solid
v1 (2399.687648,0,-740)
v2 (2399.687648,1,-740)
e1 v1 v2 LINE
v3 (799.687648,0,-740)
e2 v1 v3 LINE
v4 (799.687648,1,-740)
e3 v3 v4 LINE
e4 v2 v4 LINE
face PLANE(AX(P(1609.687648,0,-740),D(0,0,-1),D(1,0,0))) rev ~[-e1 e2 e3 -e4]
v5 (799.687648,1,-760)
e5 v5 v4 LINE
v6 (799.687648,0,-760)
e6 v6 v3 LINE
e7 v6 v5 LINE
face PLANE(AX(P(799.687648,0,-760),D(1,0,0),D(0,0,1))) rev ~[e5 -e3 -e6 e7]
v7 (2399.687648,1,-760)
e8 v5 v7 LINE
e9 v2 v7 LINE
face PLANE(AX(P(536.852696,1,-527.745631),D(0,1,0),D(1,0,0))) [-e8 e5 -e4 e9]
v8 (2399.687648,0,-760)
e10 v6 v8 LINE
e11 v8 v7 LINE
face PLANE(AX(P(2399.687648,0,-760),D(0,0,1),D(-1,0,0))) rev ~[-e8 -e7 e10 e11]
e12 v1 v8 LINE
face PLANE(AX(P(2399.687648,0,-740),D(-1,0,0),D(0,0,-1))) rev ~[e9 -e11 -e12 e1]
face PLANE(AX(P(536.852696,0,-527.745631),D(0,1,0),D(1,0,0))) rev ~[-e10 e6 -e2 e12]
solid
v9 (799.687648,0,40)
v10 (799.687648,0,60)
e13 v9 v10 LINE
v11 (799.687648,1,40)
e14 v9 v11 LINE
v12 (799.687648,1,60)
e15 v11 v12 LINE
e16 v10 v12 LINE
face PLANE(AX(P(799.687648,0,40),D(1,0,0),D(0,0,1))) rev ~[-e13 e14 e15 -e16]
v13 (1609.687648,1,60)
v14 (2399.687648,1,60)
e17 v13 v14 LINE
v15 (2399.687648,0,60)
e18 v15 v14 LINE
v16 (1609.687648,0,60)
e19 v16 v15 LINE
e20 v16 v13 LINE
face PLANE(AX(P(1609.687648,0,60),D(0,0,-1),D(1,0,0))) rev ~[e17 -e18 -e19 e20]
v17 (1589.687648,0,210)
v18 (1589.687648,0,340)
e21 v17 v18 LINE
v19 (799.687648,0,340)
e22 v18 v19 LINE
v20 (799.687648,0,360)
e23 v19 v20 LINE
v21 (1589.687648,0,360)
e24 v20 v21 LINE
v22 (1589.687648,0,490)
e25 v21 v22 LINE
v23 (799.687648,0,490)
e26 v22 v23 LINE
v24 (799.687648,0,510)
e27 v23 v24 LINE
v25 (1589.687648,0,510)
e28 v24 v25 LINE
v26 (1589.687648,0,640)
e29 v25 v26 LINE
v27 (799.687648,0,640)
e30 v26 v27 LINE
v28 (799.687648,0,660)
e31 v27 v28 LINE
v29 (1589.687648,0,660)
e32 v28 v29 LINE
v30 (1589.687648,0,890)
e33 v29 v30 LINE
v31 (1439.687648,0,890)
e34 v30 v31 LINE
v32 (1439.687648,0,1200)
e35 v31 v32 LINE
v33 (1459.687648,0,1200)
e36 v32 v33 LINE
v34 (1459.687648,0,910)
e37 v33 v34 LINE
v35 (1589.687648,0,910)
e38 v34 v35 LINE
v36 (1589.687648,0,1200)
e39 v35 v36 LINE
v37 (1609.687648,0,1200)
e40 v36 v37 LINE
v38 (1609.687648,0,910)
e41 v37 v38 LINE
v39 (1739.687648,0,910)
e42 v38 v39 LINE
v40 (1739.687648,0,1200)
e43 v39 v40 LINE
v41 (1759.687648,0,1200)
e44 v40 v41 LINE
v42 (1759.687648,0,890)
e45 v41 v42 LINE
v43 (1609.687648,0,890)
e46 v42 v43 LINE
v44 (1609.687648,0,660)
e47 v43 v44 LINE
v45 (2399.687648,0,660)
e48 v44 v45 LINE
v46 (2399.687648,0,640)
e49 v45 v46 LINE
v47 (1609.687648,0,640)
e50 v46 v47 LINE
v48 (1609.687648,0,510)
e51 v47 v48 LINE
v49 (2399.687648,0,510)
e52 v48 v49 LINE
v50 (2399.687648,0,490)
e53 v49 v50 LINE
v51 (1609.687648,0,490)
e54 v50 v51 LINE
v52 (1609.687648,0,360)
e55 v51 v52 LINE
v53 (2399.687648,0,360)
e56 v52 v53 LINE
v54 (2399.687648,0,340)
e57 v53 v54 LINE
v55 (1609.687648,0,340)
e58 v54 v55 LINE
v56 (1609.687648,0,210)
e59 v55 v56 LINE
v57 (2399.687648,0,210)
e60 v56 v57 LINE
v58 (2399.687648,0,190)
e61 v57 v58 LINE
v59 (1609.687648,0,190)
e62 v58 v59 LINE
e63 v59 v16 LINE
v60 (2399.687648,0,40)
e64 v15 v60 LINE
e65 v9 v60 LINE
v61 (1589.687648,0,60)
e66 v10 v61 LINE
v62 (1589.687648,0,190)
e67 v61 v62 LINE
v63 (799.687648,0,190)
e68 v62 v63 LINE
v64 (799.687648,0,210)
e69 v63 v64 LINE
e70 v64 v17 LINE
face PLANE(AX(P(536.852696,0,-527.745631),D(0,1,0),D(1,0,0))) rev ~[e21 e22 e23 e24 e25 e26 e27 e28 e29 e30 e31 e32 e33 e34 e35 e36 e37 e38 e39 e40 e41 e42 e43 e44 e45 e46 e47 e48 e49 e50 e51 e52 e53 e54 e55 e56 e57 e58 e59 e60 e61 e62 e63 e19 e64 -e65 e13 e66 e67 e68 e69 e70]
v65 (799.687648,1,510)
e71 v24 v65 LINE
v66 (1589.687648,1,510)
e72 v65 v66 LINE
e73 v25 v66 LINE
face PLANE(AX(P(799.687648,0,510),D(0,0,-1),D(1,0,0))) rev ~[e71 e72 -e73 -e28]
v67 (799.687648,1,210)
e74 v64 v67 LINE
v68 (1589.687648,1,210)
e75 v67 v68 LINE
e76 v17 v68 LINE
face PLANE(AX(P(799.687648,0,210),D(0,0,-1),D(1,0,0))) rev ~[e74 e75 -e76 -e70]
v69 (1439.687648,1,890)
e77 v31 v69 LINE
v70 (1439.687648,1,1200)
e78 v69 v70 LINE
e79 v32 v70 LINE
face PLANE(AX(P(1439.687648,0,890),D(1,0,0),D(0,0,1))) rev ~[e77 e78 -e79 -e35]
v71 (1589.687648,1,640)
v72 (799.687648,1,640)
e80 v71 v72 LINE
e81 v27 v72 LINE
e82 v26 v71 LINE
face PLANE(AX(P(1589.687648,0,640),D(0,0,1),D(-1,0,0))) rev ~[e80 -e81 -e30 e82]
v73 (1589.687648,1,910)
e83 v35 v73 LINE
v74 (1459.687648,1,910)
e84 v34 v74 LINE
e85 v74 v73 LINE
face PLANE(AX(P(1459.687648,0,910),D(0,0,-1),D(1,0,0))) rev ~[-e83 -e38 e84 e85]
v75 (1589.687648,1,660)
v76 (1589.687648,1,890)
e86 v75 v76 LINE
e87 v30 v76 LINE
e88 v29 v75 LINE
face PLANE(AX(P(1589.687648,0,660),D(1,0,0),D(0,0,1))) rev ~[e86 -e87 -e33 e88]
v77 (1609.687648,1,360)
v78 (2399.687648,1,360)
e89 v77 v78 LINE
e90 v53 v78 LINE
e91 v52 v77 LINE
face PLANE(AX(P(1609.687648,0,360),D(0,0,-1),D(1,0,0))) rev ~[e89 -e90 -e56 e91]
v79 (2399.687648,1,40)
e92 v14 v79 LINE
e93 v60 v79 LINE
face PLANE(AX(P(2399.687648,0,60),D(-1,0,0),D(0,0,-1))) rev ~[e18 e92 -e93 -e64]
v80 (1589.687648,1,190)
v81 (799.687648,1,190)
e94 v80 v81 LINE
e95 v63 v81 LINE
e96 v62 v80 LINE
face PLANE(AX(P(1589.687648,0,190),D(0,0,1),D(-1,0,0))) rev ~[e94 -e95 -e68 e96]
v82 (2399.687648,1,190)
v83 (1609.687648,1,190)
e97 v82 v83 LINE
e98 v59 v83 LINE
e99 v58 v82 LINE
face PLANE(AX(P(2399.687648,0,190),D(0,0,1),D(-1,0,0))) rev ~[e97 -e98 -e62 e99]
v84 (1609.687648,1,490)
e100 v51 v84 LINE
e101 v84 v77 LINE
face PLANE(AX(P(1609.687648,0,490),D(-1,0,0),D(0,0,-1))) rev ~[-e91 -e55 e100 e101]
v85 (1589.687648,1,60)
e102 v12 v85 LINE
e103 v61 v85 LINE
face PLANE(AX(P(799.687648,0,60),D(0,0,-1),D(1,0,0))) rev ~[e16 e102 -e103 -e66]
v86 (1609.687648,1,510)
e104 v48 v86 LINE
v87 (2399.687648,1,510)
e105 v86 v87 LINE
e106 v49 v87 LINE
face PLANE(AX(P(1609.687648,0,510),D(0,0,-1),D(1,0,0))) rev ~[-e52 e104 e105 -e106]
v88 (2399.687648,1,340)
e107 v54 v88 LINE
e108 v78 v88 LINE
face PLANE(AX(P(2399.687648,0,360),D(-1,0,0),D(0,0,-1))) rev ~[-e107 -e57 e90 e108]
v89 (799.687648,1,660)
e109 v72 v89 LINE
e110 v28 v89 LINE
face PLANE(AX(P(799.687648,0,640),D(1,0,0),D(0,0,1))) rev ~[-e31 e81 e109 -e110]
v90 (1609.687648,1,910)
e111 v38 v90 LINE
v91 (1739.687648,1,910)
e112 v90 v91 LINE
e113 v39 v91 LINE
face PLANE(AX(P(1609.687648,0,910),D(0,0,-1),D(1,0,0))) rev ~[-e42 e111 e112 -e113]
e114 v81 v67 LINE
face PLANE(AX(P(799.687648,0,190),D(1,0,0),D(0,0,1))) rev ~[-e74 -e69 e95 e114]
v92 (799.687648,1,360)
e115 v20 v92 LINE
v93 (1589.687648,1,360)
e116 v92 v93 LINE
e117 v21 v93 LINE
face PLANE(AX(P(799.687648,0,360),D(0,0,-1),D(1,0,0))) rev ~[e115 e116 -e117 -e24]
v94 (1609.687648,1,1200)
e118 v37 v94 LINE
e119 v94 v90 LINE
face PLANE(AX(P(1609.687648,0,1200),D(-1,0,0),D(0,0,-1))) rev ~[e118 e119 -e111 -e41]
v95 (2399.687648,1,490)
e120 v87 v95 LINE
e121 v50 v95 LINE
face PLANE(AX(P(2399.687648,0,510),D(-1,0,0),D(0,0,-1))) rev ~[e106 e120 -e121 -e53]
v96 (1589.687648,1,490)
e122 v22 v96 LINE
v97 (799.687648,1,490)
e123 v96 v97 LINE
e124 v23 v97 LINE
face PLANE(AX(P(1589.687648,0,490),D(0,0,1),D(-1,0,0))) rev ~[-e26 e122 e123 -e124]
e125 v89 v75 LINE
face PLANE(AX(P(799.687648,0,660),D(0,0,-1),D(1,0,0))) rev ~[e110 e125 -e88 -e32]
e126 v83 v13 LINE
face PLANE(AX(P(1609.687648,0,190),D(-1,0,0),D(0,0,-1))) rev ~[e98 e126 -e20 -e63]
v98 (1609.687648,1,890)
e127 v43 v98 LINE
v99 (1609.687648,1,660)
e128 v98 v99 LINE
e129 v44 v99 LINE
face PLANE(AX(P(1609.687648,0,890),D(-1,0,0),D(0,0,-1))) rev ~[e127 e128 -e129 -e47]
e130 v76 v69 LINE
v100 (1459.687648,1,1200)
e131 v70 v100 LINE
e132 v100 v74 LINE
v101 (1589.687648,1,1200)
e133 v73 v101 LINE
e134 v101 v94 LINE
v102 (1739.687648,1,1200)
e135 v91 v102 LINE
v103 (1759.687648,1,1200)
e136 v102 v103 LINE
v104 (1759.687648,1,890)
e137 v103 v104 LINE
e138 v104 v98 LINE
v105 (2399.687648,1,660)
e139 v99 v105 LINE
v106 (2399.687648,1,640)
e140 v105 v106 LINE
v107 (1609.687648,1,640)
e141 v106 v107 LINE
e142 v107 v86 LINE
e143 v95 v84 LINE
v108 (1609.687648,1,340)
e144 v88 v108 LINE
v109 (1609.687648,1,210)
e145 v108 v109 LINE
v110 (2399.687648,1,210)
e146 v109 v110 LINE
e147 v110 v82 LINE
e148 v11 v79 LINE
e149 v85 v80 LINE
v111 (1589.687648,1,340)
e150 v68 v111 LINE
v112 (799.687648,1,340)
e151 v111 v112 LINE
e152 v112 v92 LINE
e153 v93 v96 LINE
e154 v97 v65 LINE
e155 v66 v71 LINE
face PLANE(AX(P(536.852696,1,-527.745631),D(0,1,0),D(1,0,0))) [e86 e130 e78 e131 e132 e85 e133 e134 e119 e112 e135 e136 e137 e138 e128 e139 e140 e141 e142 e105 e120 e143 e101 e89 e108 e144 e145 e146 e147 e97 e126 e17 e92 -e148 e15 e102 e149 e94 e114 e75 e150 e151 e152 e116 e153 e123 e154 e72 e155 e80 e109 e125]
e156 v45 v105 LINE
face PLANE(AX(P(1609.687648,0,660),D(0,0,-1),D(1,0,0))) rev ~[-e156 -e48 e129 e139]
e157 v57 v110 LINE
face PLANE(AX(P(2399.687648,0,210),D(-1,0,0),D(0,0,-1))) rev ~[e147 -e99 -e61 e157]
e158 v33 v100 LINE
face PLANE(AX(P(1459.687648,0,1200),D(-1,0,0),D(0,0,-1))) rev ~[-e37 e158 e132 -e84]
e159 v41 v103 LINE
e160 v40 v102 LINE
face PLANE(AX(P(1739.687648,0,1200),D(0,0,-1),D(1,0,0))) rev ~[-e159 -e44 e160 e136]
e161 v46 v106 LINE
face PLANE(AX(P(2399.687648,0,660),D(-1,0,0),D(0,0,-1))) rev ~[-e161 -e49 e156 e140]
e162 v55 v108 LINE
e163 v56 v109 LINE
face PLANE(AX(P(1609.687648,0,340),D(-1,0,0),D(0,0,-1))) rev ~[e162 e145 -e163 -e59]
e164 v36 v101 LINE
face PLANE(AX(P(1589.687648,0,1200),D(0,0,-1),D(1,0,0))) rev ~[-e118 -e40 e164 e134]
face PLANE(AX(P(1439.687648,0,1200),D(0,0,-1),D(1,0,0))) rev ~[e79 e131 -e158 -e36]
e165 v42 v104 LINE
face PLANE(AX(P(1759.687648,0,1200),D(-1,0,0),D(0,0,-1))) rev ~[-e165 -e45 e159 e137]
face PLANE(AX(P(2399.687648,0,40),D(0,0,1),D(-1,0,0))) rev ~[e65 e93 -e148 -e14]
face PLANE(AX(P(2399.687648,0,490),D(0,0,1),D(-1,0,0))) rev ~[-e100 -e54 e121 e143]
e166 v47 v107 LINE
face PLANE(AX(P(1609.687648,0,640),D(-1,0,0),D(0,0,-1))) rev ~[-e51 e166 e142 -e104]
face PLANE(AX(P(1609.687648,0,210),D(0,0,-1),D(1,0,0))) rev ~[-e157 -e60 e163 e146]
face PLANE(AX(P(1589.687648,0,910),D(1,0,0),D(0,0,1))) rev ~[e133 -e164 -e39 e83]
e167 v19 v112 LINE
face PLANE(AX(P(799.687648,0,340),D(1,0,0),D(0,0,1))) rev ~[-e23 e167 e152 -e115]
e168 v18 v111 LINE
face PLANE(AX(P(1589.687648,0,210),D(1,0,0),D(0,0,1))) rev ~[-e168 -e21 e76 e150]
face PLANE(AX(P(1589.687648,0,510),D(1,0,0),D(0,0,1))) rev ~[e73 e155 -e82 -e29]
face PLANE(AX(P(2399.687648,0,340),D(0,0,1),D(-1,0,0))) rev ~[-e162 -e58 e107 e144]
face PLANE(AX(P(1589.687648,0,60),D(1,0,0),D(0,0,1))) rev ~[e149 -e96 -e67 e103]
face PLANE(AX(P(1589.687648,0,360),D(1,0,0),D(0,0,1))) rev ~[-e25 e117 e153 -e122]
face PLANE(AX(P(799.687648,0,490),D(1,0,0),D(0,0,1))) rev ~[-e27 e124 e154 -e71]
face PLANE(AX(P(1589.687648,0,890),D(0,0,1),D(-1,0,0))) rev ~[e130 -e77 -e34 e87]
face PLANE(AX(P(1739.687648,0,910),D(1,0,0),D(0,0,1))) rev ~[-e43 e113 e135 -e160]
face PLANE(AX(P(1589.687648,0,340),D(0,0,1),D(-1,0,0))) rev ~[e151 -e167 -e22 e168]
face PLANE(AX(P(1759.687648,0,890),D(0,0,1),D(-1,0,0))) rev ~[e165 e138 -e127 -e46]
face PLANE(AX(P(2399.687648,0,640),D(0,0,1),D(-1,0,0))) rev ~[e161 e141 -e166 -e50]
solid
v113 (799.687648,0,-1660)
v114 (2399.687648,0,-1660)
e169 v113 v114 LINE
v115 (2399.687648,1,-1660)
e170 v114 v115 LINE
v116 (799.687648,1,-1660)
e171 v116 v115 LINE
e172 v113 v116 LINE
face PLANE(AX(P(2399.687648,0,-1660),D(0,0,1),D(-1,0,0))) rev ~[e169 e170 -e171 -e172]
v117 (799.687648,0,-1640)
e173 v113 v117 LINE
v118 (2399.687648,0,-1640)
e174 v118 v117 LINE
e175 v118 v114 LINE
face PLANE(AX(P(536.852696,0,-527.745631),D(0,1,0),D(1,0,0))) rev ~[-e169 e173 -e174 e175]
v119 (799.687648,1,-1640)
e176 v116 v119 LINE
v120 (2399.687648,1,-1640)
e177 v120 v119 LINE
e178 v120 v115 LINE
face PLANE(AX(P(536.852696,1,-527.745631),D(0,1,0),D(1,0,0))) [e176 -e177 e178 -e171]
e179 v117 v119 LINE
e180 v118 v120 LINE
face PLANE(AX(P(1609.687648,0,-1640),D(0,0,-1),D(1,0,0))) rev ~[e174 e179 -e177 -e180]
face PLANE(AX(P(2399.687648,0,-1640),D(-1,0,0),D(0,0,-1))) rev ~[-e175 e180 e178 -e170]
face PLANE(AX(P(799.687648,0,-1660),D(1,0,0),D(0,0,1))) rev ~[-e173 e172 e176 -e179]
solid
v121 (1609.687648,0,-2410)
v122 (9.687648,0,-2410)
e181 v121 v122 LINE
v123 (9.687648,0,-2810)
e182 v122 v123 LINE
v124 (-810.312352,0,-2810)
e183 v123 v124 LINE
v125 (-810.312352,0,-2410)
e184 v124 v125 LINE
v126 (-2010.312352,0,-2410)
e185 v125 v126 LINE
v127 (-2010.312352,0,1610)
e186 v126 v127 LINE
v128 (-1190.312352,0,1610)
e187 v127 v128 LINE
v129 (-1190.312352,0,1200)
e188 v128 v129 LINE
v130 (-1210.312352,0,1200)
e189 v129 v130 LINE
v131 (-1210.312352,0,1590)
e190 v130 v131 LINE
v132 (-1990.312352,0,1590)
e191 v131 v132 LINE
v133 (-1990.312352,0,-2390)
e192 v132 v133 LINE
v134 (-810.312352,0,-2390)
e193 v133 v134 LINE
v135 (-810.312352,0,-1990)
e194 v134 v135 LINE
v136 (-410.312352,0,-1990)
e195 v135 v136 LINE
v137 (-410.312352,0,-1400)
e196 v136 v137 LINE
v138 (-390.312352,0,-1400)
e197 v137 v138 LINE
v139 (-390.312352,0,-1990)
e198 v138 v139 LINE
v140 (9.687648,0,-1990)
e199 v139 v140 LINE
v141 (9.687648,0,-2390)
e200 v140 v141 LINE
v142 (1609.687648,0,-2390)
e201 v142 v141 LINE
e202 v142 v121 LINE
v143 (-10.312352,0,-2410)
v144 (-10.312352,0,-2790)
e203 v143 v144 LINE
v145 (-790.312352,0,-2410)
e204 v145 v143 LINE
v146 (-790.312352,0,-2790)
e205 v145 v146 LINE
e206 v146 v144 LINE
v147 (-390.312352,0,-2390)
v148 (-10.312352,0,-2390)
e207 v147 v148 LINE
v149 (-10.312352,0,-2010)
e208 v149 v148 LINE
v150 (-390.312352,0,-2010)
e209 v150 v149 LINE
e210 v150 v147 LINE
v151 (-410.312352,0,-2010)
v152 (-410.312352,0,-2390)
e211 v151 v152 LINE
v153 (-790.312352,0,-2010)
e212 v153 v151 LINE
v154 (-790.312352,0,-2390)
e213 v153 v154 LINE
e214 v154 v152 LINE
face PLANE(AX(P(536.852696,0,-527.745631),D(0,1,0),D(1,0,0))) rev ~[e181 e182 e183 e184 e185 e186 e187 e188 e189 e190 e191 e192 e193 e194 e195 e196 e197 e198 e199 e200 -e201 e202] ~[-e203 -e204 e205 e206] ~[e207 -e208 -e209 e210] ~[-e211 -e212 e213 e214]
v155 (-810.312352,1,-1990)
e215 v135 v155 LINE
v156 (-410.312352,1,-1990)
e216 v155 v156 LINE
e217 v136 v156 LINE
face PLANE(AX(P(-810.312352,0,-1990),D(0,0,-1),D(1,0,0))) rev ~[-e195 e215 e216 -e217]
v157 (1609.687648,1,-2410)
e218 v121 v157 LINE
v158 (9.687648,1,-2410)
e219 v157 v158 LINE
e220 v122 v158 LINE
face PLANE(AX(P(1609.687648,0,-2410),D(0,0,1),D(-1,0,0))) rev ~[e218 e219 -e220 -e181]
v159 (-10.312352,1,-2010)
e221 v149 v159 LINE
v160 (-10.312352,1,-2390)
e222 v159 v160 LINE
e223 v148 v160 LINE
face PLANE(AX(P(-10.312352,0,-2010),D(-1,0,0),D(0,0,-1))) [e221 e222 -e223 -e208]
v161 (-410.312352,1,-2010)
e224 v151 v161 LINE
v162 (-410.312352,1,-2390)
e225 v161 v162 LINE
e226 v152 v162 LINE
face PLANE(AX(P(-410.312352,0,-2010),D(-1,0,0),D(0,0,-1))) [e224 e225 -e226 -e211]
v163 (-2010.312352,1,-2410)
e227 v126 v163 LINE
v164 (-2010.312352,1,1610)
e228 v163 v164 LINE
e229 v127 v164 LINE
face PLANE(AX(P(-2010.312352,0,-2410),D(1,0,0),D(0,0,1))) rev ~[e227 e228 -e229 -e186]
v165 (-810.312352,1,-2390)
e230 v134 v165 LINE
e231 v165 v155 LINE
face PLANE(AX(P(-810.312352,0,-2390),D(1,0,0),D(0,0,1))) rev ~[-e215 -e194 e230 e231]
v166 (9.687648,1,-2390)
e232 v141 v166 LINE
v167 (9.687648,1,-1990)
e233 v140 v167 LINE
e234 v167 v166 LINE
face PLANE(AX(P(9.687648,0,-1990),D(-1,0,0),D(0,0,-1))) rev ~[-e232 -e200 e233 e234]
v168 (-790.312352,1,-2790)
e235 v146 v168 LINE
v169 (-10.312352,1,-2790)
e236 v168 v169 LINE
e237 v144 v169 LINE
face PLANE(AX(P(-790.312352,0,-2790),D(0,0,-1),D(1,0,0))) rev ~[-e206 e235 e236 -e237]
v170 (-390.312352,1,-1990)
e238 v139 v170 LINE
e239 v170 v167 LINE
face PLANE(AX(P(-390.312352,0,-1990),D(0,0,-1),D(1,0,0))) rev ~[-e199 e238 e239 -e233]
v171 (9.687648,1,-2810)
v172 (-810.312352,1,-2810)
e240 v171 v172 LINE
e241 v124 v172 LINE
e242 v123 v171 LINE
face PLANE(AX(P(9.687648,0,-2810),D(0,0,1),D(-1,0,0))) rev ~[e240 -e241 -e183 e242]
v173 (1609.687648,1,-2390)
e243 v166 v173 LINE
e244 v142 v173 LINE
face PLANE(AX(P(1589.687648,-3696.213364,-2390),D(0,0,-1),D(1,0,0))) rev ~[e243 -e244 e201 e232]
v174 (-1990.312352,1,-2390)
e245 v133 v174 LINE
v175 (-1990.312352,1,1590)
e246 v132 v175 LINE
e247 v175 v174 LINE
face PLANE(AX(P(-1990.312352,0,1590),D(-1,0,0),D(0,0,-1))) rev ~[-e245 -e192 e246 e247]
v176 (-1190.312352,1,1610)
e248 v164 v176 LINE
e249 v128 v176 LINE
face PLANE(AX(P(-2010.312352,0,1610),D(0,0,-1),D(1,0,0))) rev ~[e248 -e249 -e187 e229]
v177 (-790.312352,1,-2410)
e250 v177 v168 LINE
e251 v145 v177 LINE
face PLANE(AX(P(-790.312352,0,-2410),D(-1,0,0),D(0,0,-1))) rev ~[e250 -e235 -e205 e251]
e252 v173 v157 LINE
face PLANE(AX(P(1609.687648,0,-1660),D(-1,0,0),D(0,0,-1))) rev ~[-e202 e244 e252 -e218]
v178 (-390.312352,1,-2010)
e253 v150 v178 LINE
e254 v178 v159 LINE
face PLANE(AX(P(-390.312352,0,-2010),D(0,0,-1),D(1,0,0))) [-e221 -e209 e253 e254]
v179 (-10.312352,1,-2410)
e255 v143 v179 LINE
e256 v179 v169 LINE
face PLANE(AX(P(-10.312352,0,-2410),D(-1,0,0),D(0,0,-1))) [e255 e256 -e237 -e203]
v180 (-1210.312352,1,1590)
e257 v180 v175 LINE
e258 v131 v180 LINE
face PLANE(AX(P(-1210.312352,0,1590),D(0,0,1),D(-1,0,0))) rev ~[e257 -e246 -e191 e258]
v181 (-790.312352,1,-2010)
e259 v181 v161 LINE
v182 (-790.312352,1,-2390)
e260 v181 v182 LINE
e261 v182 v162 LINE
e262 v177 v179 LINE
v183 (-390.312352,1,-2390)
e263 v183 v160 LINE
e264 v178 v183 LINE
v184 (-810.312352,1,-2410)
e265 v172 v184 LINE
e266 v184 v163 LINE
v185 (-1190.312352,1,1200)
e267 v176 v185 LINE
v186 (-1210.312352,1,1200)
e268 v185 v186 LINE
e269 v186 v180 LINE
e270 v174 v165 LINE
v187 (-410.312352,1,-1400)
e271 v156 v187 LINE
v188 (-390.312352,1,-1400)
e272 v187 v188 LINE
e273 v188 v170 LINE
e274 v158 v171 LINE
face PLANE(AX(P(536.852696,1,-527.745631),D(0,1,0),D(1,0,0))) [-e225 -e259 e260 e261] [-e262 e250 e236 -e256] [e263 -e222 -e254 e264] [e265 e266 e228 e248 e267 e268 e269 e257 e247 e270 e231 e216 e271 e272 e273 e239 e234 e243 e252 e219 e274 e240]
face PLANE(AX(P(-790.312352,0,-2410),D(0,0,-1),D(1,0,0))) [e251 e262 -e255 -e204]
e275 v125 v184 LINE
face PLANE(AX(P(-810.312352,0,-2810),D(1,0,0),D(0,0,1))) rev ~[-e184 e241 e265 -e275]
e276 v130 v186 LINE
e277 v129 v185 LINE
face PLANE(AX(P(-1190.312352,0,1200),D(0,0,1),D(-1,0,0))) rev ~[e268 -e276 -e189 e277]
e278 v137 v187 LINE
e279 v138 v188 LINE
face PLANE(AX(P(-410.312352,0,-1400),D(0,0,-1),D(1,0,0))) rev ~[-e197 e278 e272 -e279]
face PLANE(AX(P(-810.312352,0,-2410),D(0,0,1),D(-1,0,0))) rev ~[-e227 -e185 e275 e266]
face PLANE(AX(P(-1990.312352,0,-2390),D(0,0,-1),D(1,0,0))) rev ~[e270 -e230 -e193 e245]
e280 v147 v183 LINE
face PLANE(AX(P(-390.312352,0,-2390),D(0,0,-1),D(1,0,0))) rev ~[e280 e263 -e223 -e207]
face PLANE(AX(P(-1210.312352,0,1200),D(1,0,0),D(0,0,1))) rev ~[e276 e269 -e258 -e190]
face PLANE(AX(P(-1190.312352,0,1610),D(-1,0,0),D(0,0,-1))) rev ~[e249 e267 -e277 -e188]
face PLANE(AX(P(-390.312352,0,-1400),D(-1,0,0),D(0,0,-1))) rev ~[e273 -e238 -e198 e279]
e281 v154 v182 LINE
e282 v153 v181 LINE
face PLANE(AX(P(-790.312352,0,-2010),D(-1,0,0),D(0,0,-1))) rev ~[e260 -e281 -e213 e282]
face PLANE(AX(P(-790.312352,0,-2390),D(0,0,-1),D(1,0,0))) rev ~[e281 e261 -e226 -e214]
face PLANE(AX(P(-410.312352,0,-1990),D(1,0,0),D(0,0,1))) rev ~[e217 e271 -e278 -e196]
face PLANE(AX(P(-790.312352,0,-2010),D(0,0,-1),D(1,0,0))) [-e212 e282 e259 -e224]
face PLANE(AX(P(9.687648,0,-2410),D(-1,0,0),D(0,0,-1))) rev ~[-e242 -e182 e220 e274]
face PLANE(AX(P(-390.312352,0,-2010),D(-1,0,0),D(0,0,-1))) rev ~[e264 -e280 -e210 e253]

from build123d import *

# Parameters (mm, degrees)
SKETCH_2_W               = 780
SKETCH_2_H               = 380
SKETCH_2_W_2             = 380
EXTRUDE_1_DEPTH          = 1
CUT_EXTRUDE_2_DEPTH      = 3696.213364201
CUT_EXTRUDE_2_DEPTH_BACK = 3696.213364201
SKETCH_3_W               = 20
SKETCH_3_H               = 880
SKETCH_3_H_2             = 730
SKETCH_3_H_3             = 780


with BuildPart() as part:
    # 草图2 → 凸台-拉伸1 (new body)
    with BuildSketch(Plane(origin=(0, 0, 0), x_dir=(1, 0, 0), z_dir=(0, 1, 0))):
        Polygon((-2010.312352208, -1610), (-1190.312352208, -1610), (-1190.312352208, -1600), (-1190.312352208, -1200), (-1210.312352208, -1200), (-1210.312352208, -1590), (-1990.312352208, -1590), (-1990.312352208, 2390), (-810.312352208, 2390), (-810.312352208, 1990), (-410.312352208, 1990), (-410.312352208, 1400), (-390.312352208, 1400), (-390.312352208, 1990), (9.687647792, 1990), (9.687647792, 2390), (799.687647792, 2390), (1589.687647792, 2390), (1589.687647792, 1660), (799.687647792, 1660), (799.687647792, 1640), (1589.687647792, 1640), (1589.687647792, 760), (799.687647792, 760), (799.687647792, 740), (1589.687647792, 740), (1589.687647792, -40), (799.687647792, -40), (799.687647792, -60), (1589.687647792, -60), (1589.687647792, -190), (799.687647792, -190), (799.687647792, -210), (1589.687647792, -210), (1589.687647792, -340), (799.687647792, -340), (799.687647792, -360), (1589.687647792, -360), (1589.687647792, -490), (799.687647792, -490), (799.687647792, -510), (1589.687647792, -510), (1589.687647792, -640), (799.687647792, -640), (799.687647792, -660), (1589.687647792, -660), (1589.687647792, -890), (1439.687647792, -890), (1439.687647792, -1200), (1459.687647792, -1200), (1459.687647792, -910), (1589.687647792, -910), (1589.687647792, -1200), (1609.687647792, -1200), (1609.687647792, -910), (1739.687647792, -910), (1739.687647792, -1200), (1759.687647792, -1200), (1759.687647792, -890), (1609.687647792, -890), (1609.687647792, -660), (2399.687647792, -660), (2399.687647792, -640), (1609.687647792, -640), (1609.687647792, -510), (2399.687647792, -510), (2399.687647792, -490), (1609.687647792, -490), (1609.687647792, -360), (2399.687647792, -360), (2399.687647792, -340), (1609.687647792, -340), (1609.687647792, -210), (2399.687647792, -210), (2399.687647792, -190), (1609.687647792, -190), (1609.687647792, -60), (2399.687647792, -60), (2399.687647792, -40), (1609.687647792, -40), (1609.687647792, 740), (2399.687647792, 740), (2399.687647792, 760), (1609.687647792, 760), (1609.687647792, 1640), (2399.687647792, 1640), (2399.687647792, 1660), (1609.687647792, 1660), (1609.687647792, 2410), (799.687647792, 2410), (9.687647792, 2410), (9.687647792, 2810), (-810.312352208, 2810), (-810.312352208, 2410), (-2010.312352208, 2410), (-2010.312352208, -1600), align=None)
        with Locations((-400.312352208, 2600)):
            Rectangle(SKETCH_2_W, SKETCH_2_H, mode=Mode.SUBTRACT)
        with Locations((-200.312352208, 2200)):
            Rectangle(SKETCH_2_W_2, SKETCH_2_H, mode=Mode.SUBTRACT)
        with Locations((-600.312352208, 2200)):
            Rectangle(SKETCH_2_W_2, SKETCH_2_H, mode=Mode.SUBTRACT)
    extrude(amount=EXTRUDE_1_DEPTH)

    # 草图3 → 切除-拉伸2 (cut, two sides: drawn at the far end of the back side and taken through both)
    with BuildSketch(Plane(origin=(0, 0, 0), x_dir=(1, 0, 0), z_dir=(0, 1, 0)).offset(-CUT_EXTRUDE_2_DEPTH_BACK)):
        with Locations((1599.687647792, 1200)):
            Rectangle(SKETCH_3_W, SKETCH_3_H)
        with Locations((1599.687647792, 2025)):
            Rectangle(SKETCH_3_W, SKETCH_3_H_2)
        with Locations((1599.687647792, 350)):
            Rectangle(SKETCH_3_W, SKETCH_3_H_3)
    extrude(amount=CUT_EXTRUDE_2_DEPTH + CUT_EXTRUDE_2_DEPTH_BACK, mode=Mode.SUBTRACT)


with BuildPart() as cut_extrude_2_piece_1:
    # of the separate pieces the step leaves, piece 1, a body of its own (cut_extrude_2_pieces)
    add(part.part.solids().sort_by_distance((-2010.312352208, 0, 1610))[0])


with BuildPart() as cut_extrude_2_piece_2:
    # of the separate pieces the step leaves, piece 2, a body of its own (cut_extrude_2_pieces)
    add(part.part.solids().sort_by_distance((2399.687647792, 0, 60))[0])


with BuildPart() as cut_extrude_2_piece_3:
    # of the separate pieces the step leaves, piece 3, a body of its own (cut_extrude_2_pieces)
    add(part.part.solids().sort_by_distance((2399.687647792, 0, -740))[0])


with BuildPart() as cut_extrude_2_piece_4:
    # of the separate pieces the step leaves, piece 4, a body of its own (cut_extrude_2_pieces)
    add(part.part.solids().sort_by_distance((2399.687647792, 0, -1640))[0])


solid = Compound([cut_extrude_2_piece_1.part, cut_extrude_2_piece_2.part, cut_extrude_2_piece_3.part, cut_extrude_2_piece_4.part])
